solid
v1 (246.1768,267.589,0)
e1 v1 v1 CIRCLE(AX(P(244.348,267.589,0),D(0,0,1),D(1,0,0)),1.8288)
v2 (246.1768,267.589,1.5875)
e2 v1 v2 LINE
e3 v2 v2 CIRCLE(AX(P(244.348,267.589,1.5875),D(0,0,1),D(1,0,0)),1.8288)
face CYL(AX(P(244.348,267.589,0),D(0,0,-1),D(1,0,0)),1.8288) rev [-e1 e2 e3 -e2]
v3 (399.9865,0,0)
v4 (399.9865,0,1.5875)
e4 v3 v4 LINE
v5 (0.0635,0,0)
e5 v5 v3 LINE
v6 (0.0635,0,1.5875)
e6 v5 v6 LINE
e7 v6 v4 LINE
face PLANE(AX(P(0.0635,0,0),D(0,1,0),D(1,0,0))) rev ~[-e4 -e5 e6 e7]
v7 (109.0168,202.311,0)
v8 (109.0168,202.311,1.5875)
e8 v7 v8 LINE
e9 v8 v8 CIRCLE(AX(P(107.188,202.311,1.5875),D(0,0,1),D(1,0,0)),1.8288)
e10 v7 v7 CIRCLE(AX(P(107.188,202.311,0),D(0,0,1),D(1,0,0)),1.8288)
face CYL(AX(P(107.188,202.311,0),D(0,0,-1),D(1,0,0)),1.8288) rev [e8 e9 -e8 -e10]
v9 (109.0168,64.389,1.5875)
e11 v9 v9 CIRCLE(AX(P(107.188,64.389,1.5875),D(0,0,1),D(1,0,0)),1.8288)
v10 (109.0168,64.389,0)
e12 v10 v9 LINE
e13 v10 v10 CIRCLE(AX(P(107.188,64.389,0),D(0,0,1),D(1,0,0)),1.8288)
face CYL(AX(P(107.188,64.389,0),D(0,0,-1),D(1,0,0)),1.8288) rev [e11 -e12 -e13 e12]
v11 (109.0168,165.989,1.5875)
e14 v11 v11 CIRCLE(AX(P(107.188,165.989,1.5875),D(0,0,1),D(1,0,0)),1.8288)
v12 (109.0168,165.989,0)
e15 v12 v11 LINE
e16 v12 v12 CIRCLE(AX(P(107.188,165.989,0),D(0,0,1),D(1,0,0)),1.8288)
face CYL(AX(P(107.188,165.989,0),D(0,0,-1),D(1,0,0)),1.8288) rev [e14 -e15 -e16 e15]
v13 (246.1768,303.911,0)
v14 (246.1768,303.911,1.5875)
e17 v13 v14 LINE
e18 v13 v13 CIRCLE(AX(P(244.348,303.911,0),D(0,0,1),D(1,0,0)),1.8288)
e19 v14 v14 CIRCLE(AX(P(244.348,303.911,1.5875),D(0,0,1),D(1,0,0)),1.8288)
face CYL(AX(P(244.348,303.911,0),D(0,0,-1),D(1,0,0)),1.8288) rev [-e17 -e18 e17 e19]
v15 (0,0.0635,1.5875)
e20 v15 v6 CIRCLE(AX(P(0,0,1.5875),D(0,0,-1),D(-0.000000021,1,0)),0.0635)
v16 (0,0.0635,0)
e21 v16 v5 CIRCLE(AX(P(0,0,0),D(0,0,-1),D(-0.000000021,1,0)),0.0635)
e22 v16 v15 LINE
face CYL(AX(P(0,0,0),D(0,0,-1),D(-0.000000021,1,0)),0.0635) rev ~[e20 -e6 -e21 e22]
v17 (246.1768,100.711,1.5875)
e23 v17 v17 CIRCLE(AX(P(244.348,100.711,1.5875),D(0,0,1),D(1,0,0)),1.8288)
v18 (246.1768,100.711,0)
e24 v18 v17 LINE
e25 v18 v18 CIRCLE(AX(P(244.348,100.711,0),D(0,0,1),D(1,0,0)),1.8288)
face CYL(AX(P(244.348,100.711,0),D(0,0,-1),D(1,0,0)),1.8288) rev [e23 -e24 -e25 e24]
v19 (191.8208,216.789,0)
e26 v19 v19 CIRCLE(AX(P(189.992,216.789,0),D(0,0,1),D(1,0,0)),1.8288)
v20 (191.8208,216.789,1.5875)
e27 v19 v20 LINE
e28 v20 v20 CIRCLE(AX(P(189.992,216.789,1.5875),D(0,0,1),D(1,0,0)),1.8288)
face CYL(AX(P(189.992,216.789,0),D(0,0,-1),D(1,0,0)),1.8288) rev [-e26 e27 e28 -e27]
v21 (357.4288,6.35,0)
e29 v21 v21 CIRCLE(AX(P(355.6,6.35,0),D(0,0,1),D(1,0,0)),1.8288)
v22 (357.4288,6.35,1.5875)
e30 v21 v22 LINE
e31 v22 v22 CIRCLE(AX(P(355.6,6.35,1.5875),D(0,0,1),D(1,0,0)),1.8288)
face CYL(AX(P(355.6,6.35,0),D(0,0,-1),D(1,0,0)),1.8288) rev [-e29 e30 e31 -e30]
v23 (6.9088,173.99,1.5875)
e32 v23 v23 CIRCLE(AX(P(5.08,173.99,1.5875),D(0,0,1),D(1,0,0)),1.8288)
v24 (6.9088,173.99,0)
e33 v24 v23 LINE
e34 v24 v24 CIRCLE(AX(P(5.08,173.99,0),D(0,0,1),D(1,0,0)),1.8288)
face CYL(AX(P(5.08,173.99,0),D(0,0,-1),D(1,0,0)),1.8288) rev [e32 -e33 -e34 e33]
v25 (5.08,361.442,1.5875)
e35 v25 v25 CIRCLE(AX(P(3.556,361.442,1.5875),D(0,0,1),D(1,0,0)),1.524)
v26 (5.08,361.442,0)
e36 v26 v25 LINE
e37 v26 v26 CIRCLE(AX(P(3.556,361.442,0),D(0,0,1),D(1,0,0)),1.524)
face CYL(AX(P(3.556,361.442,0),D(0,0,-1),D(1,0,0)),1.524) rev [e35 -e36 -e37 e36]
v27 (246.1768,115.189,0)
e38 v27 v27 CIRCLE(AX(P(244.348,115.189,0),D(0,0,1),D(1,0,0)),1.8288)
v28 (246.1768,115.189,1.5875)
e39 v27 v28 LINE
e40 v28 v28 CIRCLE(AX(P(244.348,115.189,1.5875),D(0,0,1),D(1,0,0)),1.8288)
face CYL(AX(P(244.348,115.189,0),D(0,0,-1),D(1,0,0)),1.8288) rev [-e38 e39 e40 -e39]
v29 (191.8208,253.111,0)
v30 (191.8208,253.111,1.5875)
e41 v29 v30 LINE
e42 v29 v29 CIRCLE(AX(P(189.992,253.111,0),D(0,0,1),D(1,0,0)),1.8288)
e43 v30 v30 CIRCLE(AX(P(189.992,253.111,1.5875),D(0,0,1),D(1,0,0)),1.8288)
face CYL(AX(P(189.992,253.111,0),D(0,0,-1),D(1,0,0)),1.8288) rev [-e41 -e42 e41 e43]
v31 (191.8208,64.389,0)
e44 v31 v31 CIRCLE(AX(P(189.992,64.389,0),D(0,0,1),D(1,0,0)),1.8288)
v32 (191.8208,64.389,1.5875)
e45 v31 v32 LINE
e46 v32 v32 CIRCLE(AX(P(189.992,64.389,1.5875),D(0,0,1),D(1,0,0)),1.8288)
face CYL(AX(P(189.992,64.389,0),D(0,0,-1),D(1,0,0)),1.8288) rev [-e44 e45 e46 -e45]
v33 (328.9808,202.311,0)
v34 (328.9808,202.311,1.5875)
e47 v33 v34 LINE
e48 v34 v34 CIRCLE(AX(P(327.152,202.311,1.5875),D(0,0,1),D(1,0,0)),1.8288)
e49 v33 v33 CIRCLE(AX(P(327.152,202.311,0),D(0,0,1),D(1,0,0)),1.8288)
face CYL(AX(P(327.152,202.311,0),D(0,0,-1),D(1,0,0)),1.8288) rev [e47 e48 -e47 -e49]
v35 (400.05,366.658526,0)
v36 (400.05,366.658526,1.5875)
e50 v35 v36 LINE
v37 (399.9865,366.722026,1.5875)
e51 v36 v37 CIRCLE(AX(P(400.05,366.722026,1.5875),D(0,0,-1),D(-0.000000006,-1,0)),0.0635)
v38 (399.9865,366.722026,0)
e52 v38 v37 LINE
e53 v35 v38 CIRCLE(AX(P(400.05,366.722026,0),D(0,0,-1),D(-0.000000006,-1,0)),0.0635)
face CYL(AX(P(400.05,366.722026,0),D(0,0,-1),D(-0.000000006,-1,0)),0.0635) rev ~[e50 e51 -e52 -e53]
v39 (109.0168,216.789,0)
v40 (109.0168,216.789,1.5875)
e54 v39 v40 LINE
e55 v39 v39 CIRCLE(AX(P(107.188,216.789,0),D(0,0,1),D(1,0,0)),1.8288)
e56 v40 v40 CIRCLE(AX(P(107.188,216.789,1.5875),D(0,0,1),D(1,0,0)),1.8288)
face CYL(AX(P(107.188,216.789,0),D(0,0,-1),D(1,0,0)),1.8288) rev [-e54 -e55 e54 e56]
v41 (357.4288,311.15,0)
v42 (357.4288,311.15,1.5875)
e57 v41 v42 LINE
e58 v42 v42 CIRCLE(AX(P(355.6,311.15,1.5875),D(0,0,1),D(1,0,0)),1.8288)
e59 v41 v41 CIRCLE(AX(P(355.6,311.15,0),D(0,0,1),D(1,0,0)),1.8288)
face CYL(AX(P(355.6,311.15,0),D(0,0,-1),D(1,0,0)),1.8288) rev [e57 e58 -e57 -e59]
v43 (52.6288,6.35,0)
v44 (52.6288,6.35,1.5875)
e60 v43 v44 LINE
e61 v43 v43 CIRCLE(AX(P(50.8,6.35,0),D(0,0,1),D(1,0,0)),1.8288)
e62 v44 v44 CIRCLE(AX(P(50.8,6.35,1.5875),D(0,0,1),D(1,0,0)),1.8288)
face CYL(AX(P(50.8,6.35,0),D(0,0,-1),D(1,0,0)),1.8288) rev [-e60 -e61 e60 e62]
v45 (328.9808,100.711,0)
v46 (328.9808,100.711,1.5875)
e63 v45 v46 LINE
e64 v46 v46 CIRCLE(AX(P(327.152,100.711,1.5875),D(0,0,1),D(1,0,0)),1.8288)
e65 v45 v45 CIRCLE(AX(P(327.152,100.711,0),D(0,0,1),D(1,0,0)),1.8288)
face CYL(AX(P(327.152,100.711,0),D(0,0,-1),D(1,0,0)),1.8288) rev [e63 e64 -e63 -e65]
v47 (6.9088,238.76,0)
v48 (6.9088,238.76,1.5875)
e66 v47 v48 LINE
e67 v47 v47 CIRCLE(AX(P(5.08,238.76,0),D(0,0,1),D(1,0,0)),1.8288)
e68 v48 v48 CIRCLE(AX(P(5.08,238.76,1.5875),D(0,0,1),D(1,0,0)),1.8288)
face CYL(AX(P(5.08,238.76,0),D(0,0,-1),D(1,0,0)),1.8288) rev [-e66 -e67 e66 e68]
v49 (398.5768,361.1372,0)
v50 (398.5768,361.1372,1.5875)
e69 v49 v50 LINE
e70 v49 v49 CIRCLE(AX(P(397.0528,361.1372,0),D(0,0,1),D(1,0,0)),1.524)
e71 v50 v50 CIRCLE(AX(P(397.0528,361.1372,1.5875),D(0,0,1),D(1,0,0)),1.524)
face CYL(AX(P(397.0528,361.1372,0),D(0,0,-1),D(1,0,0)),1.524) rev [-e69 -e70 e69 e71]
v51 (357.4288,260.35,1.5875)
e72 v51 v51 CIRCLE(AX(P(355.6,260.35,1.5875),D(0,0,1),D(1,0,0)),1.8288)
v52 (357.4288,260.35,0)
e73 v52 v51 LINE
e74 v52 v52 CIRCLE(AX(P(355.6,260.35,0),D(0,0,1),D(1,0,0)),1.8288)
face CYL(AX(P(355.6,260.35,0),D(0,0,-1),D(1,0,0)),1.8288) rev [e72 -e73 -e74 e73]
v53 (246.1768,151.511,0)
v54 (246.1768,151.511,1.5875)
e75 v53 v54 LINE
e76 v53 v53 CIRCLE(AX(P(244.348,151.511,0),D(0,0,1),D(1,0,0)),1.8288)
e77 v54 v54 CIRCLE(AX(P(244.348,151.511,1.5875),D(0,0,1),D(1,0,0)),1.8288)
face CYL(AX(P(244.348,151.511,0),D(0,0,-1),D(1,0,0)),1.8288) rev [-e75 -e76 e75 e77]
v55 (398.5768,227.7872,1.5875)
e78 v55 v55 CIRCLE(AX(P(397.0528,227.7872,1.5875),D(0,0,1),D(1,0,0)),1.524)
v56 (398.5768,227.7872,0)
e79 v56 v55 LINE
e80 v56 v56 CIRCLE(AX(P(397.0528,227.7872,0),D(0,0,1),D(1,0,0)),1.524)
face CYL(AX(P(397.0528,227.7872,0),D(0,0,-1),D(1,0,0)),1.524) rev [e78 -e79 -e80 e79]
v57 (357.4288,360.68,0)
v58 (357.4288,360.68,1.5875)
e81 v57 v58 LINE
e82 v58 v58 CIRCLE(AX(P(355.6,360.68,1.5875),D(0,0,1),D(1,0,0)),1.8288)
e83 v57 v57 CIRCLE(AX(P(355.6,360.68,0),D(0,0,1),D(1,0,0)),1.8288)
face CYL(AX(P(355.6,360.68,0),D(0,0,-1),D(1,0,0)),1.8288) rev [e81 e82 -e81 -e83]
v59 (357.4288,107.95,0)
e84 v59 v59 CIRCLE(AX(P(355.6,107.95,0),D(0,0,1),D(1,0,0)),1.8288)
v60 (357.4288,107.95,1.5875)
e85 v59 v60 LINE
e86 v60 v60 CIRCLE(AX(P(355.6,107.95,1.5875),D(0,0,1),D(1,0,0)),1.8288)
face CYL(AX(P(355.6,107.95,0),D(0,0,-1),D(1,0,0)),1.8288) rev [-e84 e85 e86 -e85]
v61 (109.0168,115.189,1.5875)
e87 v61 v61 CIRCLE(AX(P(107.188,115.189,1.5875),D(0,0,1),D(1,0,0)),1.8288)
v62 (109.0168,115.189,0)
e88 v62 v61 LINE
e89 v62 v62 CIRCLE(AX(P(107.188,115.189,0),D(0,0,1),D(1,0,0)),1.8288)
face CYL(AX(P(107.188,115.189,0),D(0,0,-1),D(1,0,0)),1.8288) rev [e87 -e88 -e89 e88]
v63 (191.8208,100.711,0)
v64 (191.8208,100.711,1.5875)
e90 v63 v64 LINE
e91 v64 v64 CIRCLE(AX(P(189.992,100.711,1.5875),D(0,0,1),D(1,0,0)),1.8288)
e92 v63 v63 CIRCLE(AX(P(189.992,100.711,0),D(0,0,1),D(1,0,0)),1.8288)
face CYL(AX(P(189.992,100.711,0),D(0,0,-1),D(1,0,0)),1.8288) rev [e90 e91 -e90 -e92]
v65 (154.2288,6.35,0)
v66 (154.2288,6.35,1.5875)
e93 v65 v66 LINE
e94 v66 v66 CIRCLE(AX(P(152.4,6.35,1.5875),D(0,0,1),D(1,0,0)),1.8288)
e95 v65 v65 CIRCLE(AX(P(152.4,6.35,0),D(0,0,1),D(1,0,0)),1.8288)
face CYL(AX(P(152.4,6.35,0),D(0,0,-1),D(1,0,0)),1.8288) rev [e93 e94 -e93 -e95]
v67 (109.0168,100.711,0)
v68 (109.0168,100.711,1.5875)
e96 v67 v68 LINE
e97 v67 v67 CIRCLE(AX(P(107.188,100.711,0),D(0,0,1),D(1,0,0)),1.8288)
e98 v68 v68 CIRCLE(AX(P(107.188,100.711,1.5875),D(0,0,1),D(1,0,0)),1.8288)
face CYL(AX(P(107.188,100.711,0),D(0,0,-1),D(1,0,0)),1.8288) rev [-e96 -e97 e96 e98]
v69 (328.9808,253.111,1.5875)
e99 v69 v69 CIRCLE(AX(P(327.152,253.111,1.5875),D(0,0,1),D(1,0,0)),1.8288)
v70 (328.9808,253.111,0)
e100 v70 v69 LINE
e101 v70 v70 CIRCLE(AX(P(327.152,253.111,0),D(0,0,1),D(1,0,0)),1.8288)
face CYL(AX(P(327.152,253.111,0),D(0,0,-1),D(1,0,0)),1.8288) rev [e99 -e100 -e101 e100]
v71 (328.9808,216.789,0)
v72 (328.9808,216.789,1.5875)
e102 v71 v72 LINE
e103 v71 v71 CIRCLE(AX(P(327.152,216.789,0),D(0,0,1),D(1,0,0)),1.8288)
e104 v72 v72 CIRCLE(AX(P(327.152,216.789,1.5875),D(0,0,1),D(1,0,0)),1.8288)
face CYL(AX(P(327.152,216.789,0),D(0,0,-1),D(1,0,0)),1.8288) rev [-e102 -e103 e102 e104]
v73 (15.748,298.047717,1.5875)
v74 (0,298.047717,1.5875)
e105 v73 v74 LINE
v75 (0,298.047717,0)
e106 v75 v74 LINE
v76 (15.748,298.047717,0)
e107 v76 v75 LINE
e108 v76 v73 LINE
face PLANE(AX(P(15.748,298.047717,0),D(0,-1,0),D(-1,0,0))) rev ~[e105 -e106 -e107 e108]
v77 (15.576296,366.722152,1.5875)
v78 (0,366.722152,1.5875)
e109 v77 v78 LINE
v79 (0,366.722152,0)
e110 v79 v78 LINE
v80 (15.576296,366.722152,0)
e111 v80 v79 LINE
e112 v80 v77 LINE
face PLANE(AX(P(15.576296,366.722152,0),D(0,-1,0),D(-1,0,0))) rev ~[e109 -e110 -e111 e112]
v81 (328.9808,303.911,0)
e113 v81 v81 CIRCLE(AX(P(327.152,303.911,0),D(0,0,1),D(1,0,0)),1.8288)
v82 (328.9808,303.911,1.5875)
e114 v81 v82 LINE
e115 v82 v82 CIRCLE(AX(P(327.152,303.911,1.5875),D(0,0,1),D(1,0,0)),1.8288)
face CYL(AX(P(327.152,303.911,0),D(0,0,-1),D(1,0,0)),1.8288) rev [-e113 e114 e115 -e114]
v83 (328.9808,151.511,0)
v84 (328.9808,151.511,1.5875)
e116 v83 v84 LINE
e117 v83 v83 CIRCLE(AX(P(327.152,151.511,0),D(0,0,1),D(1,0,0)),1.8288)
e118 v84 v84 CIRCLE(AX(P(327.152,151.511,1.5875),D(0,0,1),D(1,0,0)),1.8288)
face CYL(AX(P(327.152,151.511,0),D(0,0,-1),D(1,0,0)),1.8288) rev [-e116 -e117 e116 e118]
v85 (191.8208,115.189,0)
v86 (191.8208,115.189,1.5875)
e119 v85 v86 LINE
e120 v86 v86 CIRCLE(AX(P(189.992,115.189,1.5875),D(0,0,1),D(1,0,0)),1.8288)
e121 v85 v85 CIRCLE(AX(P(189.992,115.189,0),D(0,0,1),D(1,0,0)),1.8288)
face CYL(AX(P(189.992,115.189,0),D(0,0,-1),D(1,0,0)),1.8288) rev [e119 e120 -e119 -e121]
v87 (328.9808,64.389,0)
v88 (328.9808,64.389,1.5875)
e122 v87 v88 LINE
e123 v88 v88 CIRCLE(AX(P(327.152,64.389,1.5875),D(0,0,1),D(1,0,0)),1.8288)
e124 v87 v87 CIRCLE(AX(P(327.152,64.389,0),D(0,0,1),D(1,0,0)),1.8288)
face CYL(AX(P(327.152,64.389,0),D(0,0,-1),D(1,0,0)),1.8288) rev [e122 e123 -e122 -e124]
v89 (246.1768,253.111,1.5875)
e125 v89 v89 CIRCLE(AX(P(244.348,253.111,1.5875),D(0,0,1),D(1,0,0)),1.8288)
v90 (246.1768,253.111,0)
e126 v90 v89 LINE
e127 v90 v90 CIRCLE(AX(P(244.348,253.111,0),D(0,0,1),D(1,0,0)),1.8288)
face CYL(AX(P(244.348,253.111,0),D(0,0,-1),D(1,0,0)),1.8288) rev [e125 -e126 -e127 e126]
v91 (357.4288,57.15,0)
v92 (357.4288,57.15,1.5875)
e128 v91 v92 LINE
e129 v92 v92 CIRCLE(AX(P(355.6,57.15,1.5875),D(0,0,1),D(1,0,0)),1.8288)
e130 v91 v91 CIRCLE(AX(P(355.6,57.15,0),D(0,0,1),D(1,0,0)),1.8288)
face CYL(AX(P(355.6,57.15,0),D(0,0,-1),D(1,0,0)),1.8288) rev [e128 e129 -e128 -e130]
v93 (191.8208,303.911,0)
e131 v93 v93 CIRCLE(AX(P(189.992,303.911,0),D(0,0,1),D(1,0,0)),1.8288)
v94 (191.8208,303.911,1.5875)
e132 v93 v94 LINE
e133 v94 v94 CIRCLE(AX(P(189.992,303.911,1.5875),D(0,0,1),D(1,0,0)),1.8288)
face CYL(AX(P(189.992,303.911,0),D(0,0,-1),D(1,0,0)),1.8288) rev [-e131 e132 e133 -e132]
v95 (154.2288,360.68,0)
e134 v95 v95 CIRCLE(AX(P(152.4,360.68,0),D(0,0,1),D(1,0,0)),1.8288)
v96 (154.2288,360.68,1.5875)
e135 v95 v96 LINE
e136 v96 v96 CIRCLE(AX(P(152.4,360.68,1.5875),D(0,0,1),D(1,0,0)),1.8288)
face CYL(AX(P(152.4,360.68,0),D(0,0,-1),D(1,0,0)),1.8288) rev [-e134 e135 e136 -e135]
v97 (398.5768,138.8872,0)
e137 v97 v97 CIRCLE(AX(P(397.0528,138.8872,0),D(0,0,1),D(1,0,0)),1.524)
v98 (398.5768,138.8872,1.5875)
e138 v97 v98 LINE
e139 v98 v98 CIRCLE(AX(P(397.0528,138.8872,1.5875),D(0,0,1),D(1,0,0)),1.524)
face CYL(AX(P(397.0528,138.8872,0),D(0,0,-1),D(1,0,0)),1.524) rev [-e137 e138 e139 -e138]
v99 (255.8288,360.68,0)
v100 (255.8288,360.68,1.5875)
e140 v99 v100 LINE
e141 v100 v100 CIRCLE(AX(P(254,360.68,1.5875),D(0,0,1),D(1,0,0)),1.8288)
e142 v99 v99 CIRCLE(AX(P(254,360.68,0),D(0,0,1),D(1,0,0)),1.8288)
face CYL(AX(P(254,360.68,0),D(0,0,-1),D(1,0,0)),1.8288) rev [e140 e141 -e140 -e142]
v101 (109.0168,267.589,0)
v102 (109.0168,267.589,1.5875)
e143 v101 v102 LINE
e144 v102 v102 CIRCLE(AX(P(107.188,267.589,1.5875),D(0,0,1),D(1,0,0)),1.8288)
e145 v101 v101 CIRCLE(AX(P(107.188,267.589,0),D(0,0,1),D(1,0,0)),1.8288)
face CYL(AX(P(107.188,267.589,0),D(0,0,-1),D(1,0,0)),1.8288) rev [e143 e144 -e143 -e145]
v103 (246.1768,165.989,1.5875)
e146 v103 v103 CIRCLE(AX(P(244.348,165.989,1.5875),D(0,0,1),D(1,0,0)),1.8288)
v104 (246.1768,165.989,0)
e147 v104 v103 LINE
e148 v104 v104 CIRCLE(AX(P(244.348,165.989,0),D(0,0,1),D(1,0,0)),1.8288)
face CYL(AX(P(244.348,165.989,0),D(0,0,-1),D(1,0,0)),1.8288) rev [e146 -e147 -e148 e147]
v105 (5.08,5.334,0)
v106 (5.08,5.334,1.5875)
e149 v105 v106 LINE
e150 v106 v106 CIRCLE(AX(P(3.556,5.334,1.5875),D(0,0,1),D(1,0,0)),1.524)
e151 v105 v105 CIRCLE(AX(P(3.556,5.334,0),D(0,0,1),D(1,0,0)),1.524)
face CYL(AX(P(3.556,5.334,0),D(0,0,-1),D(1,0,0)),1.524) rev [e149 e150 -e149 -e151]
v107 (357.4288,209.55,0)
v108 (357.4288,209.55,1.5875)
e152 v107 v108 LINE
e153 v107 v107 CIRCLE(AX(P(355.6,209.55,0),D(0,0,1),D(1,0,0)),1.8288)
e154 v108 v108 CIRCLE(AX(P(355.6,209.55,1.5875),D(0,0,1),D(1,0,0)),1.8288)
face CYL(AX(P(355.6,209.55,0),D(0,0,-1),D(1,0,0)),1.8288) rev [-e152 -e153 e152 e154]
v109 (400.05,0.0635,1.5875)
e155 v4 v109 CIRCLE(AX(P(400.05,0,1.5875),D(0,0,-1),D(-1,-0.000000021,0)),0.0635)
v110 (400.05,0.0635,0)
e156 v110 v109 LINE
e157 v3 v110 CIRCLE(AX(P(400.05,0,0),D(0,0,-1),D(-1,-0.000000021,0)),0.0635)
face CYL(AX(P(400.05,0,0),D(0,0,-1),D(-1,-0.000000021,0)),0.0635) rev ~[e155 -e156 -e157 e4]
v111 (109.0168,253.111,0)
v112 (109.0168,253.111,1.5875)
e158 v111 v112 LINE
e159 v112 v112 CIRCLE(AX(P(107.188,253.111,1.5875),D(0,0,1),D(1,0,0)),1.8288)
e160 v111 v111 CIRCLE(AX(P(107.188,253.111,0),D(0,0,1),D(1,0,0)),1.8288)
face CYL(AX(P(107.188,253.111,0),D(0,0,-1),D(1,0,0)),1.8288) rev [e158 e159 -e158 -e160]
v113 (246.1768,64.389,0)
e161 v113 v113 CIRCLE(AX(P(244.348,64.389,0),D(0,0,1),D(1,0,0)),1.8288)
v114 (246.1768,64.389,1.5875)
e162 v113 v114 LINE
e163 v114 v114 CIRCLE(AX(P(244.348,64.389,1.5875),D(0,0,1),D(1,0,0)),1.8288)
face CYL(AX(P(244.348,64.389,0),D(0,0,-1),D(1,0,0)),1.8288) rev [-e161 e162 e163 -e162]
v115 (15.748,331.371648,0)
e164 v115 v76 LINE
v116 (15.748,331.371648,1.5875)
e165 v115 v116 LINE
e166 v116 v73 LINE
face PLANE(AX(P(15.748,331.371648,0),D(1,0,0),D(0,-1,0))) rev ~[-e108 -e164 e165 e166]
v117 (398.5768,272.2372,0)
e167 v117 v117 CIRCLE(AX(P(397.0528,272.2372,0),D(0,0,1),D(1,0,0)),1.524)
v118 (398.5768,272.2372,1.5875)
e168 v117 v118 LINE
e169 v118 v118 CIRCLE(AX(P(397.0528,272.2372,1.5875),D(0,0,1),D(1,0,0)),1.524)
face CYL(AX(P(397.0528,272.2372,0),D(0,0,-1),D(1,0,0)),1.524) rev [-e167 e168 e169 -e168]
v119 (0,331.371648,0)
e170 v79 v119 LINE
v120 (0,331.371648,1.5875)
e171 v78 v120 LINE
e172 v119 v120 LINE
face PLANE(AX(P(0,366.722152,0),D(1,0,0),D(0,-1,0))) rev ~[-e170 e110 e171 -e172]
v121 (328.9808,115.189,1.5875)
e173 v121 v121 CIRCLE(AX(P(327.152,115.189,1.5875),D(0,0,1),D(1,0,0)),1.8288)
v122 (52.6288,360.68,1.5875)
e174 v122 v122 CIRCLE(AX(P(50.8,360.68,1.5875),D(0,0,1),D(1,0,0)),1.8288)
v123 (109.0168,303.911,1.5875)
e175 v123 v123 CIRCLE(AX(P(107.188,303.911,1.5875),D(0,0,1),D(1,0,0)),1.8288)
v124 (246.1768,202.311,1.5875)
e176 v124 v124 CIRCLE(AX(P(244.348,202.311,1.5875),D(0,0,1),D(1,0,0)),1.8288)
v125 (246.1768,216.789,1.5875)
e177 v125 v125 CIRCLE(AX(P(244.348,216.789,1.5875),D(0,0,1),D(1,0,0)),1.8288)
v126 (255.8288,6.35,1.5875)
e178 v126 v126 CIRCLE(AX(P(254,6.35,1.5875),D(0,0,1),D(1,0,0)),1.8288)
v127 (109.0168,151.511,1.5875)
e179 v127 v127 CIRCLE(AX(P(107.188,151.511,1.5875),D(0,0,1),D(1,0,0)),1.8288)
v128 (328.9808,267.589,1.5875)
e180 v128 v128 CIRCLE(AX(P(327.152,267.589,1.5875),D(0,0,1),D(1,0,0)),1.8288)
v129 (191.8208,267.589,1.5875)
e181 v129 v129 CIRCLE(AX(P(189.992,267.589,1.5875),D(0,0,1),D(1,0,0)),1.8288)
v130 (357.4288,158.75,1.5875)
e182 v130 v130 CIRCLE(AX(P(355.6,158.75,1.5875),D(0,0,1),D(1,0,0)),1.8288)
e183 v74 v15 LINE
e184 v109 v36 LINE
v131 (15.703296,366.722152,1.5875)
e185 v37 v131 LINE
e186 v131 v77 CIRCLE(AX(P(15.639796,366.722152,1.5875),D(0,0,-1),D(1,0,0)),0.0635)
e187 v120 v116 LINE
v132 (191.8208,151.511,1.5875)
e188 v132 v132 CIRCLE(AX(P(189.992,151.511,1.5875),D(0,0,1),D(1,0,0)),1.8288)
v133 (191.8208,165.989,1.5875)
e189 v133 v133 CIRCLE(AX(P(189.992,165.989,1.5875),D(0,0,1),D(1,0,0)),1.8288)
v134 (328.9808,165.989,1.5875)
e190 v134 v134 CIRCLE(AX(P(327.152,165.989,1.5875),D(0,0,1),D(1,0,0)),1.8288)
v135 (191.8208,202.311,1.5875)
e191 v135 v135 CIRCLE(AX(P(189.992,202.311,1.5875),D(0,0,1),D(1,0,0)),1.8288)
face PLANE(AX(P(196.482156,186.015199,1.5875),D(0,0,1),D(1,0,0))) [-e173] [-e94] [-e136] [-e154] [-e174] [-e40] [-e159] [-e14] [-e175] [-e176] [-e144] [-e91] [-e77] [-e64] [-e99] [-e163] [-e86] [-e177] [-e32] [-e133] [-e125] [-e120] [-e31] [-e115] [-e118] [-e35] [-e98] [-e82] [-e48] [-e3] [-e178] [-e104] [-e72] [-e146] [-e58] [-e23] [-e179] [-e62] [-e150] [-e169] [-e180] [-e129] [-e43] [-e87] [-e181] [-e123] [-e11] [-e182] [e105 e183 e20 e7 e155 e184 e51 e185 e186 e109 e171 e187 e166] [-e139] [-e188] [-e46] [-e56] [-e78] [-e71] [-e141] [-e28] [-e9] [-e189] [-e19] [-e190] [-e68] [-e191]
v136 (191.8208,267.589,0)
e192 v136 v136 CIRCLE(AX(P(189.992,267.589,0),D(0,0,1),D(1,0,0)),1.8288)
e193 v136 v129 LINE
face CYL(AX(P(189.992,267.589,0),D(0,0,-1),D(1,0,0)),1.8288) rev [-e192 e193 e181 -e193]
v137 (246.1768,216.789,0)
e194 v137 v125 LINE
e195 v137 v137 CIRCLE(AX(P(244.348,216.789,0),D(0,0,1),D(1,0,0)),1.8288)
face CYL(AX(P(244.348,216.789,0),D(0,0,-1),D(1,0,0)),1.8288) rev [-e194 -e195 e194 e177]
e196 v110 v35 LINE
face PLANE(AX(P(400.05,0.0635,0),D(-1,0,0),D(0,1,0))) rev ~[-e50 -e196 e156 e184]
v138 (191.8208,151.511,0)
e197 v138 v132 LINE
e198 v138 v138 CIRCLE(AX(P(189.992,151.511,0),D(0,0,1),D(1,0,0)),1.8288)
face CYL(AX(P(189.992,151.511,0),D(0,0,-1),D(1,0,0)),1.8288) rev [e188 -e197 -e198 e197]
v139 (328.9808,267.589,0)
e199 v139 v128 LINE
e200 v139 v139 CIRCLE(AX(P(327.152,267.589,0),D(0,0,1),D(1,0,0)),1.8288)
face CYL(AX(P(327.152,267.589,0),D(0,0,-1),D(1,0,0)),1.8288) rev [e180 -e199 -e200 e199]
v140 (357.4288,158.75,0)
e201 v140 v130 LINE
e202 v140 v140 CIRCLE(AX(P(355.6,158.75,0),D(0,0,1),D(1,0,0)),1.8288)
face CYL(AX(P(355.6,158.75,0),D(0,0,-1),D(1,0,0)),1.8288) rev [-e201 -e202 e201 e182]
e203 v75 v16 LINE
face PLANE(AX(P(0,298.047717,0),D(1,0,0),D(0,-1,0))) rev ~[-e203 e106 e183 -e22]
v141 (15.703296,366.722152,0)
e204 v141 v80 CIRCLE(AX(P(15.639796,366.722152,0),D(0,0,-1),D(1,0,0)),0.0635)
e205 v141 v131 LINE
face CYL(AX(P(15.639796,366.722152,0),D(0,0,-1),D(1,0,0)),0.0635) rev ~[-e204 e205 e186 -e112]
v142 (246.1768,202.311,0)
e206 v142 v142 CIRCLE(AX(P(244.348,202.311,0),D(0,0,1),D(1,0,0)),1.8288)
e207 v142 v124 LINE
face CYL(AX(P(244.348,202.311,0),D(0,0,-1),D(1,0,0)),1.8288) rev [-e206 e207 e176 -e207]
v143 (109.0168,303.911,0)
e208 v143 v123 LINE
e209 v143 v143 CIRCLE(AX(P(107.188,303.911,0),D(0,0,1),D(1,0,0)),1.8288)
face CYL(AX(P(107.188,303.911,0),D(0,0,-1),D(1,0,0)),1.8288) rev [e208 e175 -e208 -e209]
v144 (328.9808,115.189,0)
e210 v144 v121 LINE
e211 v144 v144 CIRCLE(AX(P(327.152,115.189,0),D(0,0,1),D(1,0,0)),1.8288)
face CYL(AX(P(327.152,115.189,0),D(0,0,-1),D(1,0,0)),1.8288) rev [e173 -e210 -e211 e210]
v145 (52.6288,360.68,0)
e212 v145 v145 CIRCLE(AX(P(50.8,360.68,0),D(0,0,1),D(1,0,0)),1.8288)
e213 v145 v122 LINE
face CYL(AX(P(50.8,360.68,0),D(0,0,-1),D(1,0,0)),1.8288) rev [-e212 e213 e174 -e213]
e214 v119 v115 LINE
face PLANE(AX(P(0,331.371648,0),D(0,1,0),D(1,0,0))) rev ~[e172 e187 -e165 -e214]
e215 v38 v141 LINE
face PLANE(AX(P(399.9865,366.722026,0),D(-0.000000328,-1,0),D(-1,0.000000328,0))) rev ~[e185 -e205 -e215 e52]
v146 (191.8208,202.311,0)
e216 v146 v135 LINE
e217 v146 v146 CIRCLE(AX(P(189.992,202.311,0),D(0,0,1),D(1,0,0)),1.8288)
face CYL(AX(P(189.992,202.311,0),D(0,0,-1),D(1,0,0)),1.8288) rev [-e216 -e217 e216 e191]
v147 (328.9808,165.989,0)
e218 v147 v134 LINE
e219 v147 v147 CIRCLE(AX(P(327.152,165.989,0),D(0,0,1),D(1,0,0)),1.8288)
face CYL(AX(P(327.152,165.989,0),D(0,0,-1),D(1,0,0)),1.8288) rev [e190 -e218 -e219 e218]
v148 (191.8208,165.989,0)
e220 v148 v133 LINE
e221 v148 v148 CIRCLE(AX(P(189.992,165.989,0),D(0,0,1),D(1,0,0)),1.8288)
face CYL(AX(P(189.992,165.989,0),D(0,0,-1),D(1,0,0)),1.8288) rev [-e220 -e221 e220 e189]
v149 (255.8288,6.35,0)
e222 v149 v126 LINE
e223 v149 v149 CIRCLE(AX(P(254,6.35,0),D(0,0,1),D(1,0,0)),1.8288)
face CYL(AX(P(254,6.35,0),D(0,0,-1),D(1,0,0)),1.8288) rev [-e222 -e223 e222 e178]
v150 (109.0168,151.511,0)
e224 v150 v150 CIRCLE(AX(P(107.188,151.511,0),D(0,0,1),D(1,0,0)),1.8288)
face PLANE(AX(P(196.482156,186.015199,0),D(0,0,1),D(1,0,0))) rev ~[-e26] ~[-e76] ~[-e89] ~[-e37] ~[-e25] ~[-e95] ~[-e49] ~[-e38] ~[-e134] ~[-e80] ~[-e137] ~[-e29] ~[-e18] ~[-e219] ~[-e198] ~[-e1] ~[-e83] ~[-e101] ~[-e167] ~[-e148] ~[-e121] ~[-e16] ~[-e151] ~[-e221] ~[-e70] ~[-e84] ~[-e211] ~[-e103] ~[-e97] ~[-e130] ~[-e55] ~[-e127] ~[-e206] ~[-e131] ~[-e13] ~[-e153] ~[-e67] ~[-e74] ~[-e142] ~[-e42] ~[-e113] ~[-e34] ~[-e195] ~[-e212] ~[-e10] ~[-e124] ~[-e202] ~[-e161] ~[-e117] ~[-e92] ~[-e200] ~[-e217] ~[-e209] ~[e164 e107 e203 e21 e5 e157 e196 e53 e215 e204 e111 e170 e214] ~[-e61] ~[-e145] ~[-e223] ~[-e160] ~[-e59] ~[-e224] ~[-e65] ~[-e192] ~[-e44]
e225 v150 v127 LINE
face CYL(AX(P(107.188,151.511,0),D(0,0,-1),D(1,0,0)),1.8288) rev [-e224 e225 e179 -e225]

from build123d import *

# Parameters (mm, degrees)
MODEL_R             = 1.524
MODEL_R_2           = 1.8288
BOSS_EXTRUDE2_DEPTH = 1.5875


with BuildPart() as part:
    # Model → Boss-Extrude2 (new body)
    with BuildSketch(Plane.XY):
        with BuildLine():
            ThreePointArc((0, 0.0635), (0.044901281, 0.044901281), (0.0635, 0))
            Line((0.0635, 0), (399.9865, 0))
            ThreePointArc((399.9865, 0), (400.005098719, 0.044901281), (400.05, 0.0635))
            Line((400.05, 0.0635), (400.05, 366.658526))
            ThreePointArc((400.05, 366.658526), (400.005098712, 366.677124727), (399.9865, 366.722026021))
            Line((399.9865, 366.722026021), (15.703296, 366.722151979))
            ThreePointArc((15.703296, 366.722152), (15.639796, 366.658652), (15.576296, 366.722152))
            Line((15.576296, 366.722152), (0, 366.722152))
            Line((0, 366.722152), (0, 331.371648))
            Line((0, 331.371648), (15.748, 331.371648))
            Line((15.748, 331.371648), (15.748, 298.047717333))
            Line((15.748, 298.047717333), (0, 298.047717333))
            Line((0, 298.047717333), (0, 0.0635))
        make_face()
        with Locations((3.556, 5.334)):
            Circle(MODEL_R, mode=Mode.SUBTRACT)
        with Locations((50.8, 6.35)):
            Circle(MODEL_R_2, mode=Mode.SUBTRACT)
        with Locations((152.4, 6.35)):
            Circle(MODEL_R_2, mode=Mode.SUBTRACT)
        with Locations((107.188, 64.389)):
            Circle(MODEL_R_2, mode=Mode.SUBTRACT)
        with Locations((189.992, 64.389)):
            Circle(MODEL_R_2, mode=Mode.SUBTRACT)
        with Locations((5.08, 173.99)):
            Circle(MODEL_R_2, mode=Mode.SUBTRACT)
        with Locations((107.188, 100.711)):
            Circle(MODEL_R_2, mode=Mode.SUBTRACT)
        with Locations((107.188, 115.189)):
            Circle(MODEL_R_2, mode=Mode.SUBTRACT)
        with Locations((189.992, 100.711)):
            Circle(MODEL_R_2, mode=Mode.SUBTRACT)
        with Locations((189.992, 115.189)):
            Circle(MODEL_R_2, mode=Mode.SUBTRACT)
        with Locations((107.188, 151.511)):
            Circle(MODEL_R_2, mode=Mode.SUBTRACT)
        with Locations((107.188, 165.989)):
            Circle(MODEL_R_2, mode=Mode.SUBTRACT)
        with Locations((189.992, 151.511)):
            Circle(MODEL_R_2, mode=Mode.SUBTRACT)
        with Locations((189.992, 165.989)):
            Circle(MODEL_R_2, mode=Mode.SUBTRACT)
        with Locations((254, 6.35)):
            Circle(MODEL_R_2, mode=Mode.SUBTRACT)
        with Locations((244.348, 64.389)):
            Circle(MODEL_R_2, mode=Mode.SUBTRACT)
        with Locations((355.6, 6.35)):
            Circle(MODEL_R_2, mode=Mode.SUBTRACT)
        with Locations((327.152, 64.389)):
            Circle(MODEL_R_2, mode=Mode.SUBTRACT)
        with Locations((355.6, 57.15)):
            Circle(MODEL_R_2, mode=Mode.SUBTRACT)
        with Locations((244.348, 100.711)):
            Circle(MODEL_R_2, mode=Mode.SUBTRACT)
        with Locations((244.348, 115.189)):
            Circle(MODEL_R_2, mode=Mode.SUBTRACT)
        with Locations((244.348, 151.511)):
            Circle(MODEL_R_2, mode=Mode.SUBTRACT)
        with Locations((244.348, 165.989)):
            Circle(MODEL_R_2, mode=Mode.SUBTRACT)
        with Locations((327.152, 100.711)):
            Circle(MODEL_R_2, mode=Mode.SUBTRACT)
        with Locations((327.152, 115.189)):
            Circle(MODEL_R_2, mode=Mode.SUBTRACT)
        with Locations((355.6, 107.95)):
            Circle(MODEL_R_2, mode=Mode.SUBTRACT)
        with Locations((327.152, 151.511)):
            Circle(MODEL_R_2, mode=Mode.SUBTRACT)
        with Locations((327.152, 165.989)):
            Circle(MODEL_R_2, mode=Mode.SUBTRACT)
        with Locations((355.6, 158.75)):
            Circle(MODEL_R_2, mode=Mode.SUBTRACT)
        with Locations((397.0528, 138.8872)):
            Circle(MODEL_R, mode=Mode.SUBTRACT)
        with Locations((5.08, 238.76)):
            Circle(MODEL_R_2, mode=Mode.SUBTRACT)
        with Locations((107.188, 202.311)):
            Circle(MODEL_R_2, mode=Mode.SUBTRACT)
        with Locations((107.188, 216.789)):
            Circle(MODEL_R_2, mode=Mode.SUBTRACT)
        with Locations((189.992, 202.311)):
            Circle(MODEL_R_2, mode=Mode.SUBTRACT)
        with Locations((189.992, 216.789)):
            Circle(MODEL_R_2, mode=Mode.SUBTRACT)
        with Locations((107.188, 253.111)):
            Circle(MODEL_R_2, mode=Mode.SUBTRACT)
        with Locations((107.188, 267.589)):
            Circle(MODEL_R_2, mode=Mode.SUBTRACT)
        with Locations((189.992, 253.111)):
            Circle(MODEL_R_2, mode=Mode.SUBTRACT)
        with Locations((189.992, 267.589)):
            Circle(MODEL_R_2, mode=Mode.SUBTRACT)
        with Locations((3.556, 361.442)):
            Circle(MODEL_R, mode=Mode.SUBTRACT)
        with Locations((50.8, 360.68)):
            Circle(MODEL_R_2, mode=Mode.SUBTRACT)
        with Locations((107.188, 303.911)):
            Circle(MODEL_R_2, mode=Mode.SUBTRACT)
        with Locations((189.992, 303.911)):
            Circle(MODEL_R_2, mode=Mode.SUBTRACT)
        with Locations((152.4, 360.68)):
            Circle(MODEL_R_2, mode=Mode.SUBTRACT)
        with Locations((244.348, 202.311)):
            Circle(MODEL_R_2, mode=Mode.SUBTRACT)
        with Locations((244.348, 216.789)):
            Circle(MODEL_R_2, mode=Mode.SUBTRACT)
        with Locations((244.348, 253.111)):
            Circle(MODEL_R_2, mode=Mode.SUBTRACT)
        with Locations((244.348, 267.589)):
            Circle(MODEL_R_2, mode=Mode.SUBTRACT)
        with Locations((327.152, 202.311)):
            Circle(MODEL_R_2, mode=Mode.SUBTRACT)
        with Locations((327.152, 216.789)):
            Circle(MODEL_R_2, mode=Mode.SUBTRACT)
        with Locations((355.6, 209.55)):
            Circle(MODEL_R_2, mode=Mode.SUBTRACT)
        with Locations((397.0528, 227.7872)):
            Circle(MODEL_R, mode=Mode.SUBTRACT)
        with Locations((327.152, 253.111)):
            Circle(MODEL_R_2, mode=Mode.SUBTRACT)
        with Locations((327.152, 267.589)):
            Circle(MODEL_R_2, mode=Mode.SUBTRACT)
        with Locations((355.6, 260.35)):
            Circle(MODEL_R_2, mode=Mode.SUBTRACT)
        with Locations((397.0528, 272.2372)):
            Circle(MODEL_R, mode=Mode.SUBTRACT)
        with Locations((244.348, 303.911)):
            Circle(MODEL_R_2, mode=Mode.SUBTRACT)
        with Locations((254, 360.68)):
            Circle(MODEL_R_2, mode=Mode.SUBTRACT)
        with Locations((327.152, 303.911)):
            Circle(MODEL_R_2, mode=Mode.SUBTRACT)
        with Locations((355.6, 311.15)):
            Circle(MODEL_R_2, mode=Mode.SUBTRACT)
        with Locations((355.6, 360.68)):
            Circle(MODEL_R_2, mode=Mode.SUBTRACT)
        with Locations((397.0528, 361.1372)):
            Circle(MODEL_R, mode=Mode.SUBTRACT)
    extrude(amount=BOSS_EXTRUDE2_DEPTH)


solid = part.part
